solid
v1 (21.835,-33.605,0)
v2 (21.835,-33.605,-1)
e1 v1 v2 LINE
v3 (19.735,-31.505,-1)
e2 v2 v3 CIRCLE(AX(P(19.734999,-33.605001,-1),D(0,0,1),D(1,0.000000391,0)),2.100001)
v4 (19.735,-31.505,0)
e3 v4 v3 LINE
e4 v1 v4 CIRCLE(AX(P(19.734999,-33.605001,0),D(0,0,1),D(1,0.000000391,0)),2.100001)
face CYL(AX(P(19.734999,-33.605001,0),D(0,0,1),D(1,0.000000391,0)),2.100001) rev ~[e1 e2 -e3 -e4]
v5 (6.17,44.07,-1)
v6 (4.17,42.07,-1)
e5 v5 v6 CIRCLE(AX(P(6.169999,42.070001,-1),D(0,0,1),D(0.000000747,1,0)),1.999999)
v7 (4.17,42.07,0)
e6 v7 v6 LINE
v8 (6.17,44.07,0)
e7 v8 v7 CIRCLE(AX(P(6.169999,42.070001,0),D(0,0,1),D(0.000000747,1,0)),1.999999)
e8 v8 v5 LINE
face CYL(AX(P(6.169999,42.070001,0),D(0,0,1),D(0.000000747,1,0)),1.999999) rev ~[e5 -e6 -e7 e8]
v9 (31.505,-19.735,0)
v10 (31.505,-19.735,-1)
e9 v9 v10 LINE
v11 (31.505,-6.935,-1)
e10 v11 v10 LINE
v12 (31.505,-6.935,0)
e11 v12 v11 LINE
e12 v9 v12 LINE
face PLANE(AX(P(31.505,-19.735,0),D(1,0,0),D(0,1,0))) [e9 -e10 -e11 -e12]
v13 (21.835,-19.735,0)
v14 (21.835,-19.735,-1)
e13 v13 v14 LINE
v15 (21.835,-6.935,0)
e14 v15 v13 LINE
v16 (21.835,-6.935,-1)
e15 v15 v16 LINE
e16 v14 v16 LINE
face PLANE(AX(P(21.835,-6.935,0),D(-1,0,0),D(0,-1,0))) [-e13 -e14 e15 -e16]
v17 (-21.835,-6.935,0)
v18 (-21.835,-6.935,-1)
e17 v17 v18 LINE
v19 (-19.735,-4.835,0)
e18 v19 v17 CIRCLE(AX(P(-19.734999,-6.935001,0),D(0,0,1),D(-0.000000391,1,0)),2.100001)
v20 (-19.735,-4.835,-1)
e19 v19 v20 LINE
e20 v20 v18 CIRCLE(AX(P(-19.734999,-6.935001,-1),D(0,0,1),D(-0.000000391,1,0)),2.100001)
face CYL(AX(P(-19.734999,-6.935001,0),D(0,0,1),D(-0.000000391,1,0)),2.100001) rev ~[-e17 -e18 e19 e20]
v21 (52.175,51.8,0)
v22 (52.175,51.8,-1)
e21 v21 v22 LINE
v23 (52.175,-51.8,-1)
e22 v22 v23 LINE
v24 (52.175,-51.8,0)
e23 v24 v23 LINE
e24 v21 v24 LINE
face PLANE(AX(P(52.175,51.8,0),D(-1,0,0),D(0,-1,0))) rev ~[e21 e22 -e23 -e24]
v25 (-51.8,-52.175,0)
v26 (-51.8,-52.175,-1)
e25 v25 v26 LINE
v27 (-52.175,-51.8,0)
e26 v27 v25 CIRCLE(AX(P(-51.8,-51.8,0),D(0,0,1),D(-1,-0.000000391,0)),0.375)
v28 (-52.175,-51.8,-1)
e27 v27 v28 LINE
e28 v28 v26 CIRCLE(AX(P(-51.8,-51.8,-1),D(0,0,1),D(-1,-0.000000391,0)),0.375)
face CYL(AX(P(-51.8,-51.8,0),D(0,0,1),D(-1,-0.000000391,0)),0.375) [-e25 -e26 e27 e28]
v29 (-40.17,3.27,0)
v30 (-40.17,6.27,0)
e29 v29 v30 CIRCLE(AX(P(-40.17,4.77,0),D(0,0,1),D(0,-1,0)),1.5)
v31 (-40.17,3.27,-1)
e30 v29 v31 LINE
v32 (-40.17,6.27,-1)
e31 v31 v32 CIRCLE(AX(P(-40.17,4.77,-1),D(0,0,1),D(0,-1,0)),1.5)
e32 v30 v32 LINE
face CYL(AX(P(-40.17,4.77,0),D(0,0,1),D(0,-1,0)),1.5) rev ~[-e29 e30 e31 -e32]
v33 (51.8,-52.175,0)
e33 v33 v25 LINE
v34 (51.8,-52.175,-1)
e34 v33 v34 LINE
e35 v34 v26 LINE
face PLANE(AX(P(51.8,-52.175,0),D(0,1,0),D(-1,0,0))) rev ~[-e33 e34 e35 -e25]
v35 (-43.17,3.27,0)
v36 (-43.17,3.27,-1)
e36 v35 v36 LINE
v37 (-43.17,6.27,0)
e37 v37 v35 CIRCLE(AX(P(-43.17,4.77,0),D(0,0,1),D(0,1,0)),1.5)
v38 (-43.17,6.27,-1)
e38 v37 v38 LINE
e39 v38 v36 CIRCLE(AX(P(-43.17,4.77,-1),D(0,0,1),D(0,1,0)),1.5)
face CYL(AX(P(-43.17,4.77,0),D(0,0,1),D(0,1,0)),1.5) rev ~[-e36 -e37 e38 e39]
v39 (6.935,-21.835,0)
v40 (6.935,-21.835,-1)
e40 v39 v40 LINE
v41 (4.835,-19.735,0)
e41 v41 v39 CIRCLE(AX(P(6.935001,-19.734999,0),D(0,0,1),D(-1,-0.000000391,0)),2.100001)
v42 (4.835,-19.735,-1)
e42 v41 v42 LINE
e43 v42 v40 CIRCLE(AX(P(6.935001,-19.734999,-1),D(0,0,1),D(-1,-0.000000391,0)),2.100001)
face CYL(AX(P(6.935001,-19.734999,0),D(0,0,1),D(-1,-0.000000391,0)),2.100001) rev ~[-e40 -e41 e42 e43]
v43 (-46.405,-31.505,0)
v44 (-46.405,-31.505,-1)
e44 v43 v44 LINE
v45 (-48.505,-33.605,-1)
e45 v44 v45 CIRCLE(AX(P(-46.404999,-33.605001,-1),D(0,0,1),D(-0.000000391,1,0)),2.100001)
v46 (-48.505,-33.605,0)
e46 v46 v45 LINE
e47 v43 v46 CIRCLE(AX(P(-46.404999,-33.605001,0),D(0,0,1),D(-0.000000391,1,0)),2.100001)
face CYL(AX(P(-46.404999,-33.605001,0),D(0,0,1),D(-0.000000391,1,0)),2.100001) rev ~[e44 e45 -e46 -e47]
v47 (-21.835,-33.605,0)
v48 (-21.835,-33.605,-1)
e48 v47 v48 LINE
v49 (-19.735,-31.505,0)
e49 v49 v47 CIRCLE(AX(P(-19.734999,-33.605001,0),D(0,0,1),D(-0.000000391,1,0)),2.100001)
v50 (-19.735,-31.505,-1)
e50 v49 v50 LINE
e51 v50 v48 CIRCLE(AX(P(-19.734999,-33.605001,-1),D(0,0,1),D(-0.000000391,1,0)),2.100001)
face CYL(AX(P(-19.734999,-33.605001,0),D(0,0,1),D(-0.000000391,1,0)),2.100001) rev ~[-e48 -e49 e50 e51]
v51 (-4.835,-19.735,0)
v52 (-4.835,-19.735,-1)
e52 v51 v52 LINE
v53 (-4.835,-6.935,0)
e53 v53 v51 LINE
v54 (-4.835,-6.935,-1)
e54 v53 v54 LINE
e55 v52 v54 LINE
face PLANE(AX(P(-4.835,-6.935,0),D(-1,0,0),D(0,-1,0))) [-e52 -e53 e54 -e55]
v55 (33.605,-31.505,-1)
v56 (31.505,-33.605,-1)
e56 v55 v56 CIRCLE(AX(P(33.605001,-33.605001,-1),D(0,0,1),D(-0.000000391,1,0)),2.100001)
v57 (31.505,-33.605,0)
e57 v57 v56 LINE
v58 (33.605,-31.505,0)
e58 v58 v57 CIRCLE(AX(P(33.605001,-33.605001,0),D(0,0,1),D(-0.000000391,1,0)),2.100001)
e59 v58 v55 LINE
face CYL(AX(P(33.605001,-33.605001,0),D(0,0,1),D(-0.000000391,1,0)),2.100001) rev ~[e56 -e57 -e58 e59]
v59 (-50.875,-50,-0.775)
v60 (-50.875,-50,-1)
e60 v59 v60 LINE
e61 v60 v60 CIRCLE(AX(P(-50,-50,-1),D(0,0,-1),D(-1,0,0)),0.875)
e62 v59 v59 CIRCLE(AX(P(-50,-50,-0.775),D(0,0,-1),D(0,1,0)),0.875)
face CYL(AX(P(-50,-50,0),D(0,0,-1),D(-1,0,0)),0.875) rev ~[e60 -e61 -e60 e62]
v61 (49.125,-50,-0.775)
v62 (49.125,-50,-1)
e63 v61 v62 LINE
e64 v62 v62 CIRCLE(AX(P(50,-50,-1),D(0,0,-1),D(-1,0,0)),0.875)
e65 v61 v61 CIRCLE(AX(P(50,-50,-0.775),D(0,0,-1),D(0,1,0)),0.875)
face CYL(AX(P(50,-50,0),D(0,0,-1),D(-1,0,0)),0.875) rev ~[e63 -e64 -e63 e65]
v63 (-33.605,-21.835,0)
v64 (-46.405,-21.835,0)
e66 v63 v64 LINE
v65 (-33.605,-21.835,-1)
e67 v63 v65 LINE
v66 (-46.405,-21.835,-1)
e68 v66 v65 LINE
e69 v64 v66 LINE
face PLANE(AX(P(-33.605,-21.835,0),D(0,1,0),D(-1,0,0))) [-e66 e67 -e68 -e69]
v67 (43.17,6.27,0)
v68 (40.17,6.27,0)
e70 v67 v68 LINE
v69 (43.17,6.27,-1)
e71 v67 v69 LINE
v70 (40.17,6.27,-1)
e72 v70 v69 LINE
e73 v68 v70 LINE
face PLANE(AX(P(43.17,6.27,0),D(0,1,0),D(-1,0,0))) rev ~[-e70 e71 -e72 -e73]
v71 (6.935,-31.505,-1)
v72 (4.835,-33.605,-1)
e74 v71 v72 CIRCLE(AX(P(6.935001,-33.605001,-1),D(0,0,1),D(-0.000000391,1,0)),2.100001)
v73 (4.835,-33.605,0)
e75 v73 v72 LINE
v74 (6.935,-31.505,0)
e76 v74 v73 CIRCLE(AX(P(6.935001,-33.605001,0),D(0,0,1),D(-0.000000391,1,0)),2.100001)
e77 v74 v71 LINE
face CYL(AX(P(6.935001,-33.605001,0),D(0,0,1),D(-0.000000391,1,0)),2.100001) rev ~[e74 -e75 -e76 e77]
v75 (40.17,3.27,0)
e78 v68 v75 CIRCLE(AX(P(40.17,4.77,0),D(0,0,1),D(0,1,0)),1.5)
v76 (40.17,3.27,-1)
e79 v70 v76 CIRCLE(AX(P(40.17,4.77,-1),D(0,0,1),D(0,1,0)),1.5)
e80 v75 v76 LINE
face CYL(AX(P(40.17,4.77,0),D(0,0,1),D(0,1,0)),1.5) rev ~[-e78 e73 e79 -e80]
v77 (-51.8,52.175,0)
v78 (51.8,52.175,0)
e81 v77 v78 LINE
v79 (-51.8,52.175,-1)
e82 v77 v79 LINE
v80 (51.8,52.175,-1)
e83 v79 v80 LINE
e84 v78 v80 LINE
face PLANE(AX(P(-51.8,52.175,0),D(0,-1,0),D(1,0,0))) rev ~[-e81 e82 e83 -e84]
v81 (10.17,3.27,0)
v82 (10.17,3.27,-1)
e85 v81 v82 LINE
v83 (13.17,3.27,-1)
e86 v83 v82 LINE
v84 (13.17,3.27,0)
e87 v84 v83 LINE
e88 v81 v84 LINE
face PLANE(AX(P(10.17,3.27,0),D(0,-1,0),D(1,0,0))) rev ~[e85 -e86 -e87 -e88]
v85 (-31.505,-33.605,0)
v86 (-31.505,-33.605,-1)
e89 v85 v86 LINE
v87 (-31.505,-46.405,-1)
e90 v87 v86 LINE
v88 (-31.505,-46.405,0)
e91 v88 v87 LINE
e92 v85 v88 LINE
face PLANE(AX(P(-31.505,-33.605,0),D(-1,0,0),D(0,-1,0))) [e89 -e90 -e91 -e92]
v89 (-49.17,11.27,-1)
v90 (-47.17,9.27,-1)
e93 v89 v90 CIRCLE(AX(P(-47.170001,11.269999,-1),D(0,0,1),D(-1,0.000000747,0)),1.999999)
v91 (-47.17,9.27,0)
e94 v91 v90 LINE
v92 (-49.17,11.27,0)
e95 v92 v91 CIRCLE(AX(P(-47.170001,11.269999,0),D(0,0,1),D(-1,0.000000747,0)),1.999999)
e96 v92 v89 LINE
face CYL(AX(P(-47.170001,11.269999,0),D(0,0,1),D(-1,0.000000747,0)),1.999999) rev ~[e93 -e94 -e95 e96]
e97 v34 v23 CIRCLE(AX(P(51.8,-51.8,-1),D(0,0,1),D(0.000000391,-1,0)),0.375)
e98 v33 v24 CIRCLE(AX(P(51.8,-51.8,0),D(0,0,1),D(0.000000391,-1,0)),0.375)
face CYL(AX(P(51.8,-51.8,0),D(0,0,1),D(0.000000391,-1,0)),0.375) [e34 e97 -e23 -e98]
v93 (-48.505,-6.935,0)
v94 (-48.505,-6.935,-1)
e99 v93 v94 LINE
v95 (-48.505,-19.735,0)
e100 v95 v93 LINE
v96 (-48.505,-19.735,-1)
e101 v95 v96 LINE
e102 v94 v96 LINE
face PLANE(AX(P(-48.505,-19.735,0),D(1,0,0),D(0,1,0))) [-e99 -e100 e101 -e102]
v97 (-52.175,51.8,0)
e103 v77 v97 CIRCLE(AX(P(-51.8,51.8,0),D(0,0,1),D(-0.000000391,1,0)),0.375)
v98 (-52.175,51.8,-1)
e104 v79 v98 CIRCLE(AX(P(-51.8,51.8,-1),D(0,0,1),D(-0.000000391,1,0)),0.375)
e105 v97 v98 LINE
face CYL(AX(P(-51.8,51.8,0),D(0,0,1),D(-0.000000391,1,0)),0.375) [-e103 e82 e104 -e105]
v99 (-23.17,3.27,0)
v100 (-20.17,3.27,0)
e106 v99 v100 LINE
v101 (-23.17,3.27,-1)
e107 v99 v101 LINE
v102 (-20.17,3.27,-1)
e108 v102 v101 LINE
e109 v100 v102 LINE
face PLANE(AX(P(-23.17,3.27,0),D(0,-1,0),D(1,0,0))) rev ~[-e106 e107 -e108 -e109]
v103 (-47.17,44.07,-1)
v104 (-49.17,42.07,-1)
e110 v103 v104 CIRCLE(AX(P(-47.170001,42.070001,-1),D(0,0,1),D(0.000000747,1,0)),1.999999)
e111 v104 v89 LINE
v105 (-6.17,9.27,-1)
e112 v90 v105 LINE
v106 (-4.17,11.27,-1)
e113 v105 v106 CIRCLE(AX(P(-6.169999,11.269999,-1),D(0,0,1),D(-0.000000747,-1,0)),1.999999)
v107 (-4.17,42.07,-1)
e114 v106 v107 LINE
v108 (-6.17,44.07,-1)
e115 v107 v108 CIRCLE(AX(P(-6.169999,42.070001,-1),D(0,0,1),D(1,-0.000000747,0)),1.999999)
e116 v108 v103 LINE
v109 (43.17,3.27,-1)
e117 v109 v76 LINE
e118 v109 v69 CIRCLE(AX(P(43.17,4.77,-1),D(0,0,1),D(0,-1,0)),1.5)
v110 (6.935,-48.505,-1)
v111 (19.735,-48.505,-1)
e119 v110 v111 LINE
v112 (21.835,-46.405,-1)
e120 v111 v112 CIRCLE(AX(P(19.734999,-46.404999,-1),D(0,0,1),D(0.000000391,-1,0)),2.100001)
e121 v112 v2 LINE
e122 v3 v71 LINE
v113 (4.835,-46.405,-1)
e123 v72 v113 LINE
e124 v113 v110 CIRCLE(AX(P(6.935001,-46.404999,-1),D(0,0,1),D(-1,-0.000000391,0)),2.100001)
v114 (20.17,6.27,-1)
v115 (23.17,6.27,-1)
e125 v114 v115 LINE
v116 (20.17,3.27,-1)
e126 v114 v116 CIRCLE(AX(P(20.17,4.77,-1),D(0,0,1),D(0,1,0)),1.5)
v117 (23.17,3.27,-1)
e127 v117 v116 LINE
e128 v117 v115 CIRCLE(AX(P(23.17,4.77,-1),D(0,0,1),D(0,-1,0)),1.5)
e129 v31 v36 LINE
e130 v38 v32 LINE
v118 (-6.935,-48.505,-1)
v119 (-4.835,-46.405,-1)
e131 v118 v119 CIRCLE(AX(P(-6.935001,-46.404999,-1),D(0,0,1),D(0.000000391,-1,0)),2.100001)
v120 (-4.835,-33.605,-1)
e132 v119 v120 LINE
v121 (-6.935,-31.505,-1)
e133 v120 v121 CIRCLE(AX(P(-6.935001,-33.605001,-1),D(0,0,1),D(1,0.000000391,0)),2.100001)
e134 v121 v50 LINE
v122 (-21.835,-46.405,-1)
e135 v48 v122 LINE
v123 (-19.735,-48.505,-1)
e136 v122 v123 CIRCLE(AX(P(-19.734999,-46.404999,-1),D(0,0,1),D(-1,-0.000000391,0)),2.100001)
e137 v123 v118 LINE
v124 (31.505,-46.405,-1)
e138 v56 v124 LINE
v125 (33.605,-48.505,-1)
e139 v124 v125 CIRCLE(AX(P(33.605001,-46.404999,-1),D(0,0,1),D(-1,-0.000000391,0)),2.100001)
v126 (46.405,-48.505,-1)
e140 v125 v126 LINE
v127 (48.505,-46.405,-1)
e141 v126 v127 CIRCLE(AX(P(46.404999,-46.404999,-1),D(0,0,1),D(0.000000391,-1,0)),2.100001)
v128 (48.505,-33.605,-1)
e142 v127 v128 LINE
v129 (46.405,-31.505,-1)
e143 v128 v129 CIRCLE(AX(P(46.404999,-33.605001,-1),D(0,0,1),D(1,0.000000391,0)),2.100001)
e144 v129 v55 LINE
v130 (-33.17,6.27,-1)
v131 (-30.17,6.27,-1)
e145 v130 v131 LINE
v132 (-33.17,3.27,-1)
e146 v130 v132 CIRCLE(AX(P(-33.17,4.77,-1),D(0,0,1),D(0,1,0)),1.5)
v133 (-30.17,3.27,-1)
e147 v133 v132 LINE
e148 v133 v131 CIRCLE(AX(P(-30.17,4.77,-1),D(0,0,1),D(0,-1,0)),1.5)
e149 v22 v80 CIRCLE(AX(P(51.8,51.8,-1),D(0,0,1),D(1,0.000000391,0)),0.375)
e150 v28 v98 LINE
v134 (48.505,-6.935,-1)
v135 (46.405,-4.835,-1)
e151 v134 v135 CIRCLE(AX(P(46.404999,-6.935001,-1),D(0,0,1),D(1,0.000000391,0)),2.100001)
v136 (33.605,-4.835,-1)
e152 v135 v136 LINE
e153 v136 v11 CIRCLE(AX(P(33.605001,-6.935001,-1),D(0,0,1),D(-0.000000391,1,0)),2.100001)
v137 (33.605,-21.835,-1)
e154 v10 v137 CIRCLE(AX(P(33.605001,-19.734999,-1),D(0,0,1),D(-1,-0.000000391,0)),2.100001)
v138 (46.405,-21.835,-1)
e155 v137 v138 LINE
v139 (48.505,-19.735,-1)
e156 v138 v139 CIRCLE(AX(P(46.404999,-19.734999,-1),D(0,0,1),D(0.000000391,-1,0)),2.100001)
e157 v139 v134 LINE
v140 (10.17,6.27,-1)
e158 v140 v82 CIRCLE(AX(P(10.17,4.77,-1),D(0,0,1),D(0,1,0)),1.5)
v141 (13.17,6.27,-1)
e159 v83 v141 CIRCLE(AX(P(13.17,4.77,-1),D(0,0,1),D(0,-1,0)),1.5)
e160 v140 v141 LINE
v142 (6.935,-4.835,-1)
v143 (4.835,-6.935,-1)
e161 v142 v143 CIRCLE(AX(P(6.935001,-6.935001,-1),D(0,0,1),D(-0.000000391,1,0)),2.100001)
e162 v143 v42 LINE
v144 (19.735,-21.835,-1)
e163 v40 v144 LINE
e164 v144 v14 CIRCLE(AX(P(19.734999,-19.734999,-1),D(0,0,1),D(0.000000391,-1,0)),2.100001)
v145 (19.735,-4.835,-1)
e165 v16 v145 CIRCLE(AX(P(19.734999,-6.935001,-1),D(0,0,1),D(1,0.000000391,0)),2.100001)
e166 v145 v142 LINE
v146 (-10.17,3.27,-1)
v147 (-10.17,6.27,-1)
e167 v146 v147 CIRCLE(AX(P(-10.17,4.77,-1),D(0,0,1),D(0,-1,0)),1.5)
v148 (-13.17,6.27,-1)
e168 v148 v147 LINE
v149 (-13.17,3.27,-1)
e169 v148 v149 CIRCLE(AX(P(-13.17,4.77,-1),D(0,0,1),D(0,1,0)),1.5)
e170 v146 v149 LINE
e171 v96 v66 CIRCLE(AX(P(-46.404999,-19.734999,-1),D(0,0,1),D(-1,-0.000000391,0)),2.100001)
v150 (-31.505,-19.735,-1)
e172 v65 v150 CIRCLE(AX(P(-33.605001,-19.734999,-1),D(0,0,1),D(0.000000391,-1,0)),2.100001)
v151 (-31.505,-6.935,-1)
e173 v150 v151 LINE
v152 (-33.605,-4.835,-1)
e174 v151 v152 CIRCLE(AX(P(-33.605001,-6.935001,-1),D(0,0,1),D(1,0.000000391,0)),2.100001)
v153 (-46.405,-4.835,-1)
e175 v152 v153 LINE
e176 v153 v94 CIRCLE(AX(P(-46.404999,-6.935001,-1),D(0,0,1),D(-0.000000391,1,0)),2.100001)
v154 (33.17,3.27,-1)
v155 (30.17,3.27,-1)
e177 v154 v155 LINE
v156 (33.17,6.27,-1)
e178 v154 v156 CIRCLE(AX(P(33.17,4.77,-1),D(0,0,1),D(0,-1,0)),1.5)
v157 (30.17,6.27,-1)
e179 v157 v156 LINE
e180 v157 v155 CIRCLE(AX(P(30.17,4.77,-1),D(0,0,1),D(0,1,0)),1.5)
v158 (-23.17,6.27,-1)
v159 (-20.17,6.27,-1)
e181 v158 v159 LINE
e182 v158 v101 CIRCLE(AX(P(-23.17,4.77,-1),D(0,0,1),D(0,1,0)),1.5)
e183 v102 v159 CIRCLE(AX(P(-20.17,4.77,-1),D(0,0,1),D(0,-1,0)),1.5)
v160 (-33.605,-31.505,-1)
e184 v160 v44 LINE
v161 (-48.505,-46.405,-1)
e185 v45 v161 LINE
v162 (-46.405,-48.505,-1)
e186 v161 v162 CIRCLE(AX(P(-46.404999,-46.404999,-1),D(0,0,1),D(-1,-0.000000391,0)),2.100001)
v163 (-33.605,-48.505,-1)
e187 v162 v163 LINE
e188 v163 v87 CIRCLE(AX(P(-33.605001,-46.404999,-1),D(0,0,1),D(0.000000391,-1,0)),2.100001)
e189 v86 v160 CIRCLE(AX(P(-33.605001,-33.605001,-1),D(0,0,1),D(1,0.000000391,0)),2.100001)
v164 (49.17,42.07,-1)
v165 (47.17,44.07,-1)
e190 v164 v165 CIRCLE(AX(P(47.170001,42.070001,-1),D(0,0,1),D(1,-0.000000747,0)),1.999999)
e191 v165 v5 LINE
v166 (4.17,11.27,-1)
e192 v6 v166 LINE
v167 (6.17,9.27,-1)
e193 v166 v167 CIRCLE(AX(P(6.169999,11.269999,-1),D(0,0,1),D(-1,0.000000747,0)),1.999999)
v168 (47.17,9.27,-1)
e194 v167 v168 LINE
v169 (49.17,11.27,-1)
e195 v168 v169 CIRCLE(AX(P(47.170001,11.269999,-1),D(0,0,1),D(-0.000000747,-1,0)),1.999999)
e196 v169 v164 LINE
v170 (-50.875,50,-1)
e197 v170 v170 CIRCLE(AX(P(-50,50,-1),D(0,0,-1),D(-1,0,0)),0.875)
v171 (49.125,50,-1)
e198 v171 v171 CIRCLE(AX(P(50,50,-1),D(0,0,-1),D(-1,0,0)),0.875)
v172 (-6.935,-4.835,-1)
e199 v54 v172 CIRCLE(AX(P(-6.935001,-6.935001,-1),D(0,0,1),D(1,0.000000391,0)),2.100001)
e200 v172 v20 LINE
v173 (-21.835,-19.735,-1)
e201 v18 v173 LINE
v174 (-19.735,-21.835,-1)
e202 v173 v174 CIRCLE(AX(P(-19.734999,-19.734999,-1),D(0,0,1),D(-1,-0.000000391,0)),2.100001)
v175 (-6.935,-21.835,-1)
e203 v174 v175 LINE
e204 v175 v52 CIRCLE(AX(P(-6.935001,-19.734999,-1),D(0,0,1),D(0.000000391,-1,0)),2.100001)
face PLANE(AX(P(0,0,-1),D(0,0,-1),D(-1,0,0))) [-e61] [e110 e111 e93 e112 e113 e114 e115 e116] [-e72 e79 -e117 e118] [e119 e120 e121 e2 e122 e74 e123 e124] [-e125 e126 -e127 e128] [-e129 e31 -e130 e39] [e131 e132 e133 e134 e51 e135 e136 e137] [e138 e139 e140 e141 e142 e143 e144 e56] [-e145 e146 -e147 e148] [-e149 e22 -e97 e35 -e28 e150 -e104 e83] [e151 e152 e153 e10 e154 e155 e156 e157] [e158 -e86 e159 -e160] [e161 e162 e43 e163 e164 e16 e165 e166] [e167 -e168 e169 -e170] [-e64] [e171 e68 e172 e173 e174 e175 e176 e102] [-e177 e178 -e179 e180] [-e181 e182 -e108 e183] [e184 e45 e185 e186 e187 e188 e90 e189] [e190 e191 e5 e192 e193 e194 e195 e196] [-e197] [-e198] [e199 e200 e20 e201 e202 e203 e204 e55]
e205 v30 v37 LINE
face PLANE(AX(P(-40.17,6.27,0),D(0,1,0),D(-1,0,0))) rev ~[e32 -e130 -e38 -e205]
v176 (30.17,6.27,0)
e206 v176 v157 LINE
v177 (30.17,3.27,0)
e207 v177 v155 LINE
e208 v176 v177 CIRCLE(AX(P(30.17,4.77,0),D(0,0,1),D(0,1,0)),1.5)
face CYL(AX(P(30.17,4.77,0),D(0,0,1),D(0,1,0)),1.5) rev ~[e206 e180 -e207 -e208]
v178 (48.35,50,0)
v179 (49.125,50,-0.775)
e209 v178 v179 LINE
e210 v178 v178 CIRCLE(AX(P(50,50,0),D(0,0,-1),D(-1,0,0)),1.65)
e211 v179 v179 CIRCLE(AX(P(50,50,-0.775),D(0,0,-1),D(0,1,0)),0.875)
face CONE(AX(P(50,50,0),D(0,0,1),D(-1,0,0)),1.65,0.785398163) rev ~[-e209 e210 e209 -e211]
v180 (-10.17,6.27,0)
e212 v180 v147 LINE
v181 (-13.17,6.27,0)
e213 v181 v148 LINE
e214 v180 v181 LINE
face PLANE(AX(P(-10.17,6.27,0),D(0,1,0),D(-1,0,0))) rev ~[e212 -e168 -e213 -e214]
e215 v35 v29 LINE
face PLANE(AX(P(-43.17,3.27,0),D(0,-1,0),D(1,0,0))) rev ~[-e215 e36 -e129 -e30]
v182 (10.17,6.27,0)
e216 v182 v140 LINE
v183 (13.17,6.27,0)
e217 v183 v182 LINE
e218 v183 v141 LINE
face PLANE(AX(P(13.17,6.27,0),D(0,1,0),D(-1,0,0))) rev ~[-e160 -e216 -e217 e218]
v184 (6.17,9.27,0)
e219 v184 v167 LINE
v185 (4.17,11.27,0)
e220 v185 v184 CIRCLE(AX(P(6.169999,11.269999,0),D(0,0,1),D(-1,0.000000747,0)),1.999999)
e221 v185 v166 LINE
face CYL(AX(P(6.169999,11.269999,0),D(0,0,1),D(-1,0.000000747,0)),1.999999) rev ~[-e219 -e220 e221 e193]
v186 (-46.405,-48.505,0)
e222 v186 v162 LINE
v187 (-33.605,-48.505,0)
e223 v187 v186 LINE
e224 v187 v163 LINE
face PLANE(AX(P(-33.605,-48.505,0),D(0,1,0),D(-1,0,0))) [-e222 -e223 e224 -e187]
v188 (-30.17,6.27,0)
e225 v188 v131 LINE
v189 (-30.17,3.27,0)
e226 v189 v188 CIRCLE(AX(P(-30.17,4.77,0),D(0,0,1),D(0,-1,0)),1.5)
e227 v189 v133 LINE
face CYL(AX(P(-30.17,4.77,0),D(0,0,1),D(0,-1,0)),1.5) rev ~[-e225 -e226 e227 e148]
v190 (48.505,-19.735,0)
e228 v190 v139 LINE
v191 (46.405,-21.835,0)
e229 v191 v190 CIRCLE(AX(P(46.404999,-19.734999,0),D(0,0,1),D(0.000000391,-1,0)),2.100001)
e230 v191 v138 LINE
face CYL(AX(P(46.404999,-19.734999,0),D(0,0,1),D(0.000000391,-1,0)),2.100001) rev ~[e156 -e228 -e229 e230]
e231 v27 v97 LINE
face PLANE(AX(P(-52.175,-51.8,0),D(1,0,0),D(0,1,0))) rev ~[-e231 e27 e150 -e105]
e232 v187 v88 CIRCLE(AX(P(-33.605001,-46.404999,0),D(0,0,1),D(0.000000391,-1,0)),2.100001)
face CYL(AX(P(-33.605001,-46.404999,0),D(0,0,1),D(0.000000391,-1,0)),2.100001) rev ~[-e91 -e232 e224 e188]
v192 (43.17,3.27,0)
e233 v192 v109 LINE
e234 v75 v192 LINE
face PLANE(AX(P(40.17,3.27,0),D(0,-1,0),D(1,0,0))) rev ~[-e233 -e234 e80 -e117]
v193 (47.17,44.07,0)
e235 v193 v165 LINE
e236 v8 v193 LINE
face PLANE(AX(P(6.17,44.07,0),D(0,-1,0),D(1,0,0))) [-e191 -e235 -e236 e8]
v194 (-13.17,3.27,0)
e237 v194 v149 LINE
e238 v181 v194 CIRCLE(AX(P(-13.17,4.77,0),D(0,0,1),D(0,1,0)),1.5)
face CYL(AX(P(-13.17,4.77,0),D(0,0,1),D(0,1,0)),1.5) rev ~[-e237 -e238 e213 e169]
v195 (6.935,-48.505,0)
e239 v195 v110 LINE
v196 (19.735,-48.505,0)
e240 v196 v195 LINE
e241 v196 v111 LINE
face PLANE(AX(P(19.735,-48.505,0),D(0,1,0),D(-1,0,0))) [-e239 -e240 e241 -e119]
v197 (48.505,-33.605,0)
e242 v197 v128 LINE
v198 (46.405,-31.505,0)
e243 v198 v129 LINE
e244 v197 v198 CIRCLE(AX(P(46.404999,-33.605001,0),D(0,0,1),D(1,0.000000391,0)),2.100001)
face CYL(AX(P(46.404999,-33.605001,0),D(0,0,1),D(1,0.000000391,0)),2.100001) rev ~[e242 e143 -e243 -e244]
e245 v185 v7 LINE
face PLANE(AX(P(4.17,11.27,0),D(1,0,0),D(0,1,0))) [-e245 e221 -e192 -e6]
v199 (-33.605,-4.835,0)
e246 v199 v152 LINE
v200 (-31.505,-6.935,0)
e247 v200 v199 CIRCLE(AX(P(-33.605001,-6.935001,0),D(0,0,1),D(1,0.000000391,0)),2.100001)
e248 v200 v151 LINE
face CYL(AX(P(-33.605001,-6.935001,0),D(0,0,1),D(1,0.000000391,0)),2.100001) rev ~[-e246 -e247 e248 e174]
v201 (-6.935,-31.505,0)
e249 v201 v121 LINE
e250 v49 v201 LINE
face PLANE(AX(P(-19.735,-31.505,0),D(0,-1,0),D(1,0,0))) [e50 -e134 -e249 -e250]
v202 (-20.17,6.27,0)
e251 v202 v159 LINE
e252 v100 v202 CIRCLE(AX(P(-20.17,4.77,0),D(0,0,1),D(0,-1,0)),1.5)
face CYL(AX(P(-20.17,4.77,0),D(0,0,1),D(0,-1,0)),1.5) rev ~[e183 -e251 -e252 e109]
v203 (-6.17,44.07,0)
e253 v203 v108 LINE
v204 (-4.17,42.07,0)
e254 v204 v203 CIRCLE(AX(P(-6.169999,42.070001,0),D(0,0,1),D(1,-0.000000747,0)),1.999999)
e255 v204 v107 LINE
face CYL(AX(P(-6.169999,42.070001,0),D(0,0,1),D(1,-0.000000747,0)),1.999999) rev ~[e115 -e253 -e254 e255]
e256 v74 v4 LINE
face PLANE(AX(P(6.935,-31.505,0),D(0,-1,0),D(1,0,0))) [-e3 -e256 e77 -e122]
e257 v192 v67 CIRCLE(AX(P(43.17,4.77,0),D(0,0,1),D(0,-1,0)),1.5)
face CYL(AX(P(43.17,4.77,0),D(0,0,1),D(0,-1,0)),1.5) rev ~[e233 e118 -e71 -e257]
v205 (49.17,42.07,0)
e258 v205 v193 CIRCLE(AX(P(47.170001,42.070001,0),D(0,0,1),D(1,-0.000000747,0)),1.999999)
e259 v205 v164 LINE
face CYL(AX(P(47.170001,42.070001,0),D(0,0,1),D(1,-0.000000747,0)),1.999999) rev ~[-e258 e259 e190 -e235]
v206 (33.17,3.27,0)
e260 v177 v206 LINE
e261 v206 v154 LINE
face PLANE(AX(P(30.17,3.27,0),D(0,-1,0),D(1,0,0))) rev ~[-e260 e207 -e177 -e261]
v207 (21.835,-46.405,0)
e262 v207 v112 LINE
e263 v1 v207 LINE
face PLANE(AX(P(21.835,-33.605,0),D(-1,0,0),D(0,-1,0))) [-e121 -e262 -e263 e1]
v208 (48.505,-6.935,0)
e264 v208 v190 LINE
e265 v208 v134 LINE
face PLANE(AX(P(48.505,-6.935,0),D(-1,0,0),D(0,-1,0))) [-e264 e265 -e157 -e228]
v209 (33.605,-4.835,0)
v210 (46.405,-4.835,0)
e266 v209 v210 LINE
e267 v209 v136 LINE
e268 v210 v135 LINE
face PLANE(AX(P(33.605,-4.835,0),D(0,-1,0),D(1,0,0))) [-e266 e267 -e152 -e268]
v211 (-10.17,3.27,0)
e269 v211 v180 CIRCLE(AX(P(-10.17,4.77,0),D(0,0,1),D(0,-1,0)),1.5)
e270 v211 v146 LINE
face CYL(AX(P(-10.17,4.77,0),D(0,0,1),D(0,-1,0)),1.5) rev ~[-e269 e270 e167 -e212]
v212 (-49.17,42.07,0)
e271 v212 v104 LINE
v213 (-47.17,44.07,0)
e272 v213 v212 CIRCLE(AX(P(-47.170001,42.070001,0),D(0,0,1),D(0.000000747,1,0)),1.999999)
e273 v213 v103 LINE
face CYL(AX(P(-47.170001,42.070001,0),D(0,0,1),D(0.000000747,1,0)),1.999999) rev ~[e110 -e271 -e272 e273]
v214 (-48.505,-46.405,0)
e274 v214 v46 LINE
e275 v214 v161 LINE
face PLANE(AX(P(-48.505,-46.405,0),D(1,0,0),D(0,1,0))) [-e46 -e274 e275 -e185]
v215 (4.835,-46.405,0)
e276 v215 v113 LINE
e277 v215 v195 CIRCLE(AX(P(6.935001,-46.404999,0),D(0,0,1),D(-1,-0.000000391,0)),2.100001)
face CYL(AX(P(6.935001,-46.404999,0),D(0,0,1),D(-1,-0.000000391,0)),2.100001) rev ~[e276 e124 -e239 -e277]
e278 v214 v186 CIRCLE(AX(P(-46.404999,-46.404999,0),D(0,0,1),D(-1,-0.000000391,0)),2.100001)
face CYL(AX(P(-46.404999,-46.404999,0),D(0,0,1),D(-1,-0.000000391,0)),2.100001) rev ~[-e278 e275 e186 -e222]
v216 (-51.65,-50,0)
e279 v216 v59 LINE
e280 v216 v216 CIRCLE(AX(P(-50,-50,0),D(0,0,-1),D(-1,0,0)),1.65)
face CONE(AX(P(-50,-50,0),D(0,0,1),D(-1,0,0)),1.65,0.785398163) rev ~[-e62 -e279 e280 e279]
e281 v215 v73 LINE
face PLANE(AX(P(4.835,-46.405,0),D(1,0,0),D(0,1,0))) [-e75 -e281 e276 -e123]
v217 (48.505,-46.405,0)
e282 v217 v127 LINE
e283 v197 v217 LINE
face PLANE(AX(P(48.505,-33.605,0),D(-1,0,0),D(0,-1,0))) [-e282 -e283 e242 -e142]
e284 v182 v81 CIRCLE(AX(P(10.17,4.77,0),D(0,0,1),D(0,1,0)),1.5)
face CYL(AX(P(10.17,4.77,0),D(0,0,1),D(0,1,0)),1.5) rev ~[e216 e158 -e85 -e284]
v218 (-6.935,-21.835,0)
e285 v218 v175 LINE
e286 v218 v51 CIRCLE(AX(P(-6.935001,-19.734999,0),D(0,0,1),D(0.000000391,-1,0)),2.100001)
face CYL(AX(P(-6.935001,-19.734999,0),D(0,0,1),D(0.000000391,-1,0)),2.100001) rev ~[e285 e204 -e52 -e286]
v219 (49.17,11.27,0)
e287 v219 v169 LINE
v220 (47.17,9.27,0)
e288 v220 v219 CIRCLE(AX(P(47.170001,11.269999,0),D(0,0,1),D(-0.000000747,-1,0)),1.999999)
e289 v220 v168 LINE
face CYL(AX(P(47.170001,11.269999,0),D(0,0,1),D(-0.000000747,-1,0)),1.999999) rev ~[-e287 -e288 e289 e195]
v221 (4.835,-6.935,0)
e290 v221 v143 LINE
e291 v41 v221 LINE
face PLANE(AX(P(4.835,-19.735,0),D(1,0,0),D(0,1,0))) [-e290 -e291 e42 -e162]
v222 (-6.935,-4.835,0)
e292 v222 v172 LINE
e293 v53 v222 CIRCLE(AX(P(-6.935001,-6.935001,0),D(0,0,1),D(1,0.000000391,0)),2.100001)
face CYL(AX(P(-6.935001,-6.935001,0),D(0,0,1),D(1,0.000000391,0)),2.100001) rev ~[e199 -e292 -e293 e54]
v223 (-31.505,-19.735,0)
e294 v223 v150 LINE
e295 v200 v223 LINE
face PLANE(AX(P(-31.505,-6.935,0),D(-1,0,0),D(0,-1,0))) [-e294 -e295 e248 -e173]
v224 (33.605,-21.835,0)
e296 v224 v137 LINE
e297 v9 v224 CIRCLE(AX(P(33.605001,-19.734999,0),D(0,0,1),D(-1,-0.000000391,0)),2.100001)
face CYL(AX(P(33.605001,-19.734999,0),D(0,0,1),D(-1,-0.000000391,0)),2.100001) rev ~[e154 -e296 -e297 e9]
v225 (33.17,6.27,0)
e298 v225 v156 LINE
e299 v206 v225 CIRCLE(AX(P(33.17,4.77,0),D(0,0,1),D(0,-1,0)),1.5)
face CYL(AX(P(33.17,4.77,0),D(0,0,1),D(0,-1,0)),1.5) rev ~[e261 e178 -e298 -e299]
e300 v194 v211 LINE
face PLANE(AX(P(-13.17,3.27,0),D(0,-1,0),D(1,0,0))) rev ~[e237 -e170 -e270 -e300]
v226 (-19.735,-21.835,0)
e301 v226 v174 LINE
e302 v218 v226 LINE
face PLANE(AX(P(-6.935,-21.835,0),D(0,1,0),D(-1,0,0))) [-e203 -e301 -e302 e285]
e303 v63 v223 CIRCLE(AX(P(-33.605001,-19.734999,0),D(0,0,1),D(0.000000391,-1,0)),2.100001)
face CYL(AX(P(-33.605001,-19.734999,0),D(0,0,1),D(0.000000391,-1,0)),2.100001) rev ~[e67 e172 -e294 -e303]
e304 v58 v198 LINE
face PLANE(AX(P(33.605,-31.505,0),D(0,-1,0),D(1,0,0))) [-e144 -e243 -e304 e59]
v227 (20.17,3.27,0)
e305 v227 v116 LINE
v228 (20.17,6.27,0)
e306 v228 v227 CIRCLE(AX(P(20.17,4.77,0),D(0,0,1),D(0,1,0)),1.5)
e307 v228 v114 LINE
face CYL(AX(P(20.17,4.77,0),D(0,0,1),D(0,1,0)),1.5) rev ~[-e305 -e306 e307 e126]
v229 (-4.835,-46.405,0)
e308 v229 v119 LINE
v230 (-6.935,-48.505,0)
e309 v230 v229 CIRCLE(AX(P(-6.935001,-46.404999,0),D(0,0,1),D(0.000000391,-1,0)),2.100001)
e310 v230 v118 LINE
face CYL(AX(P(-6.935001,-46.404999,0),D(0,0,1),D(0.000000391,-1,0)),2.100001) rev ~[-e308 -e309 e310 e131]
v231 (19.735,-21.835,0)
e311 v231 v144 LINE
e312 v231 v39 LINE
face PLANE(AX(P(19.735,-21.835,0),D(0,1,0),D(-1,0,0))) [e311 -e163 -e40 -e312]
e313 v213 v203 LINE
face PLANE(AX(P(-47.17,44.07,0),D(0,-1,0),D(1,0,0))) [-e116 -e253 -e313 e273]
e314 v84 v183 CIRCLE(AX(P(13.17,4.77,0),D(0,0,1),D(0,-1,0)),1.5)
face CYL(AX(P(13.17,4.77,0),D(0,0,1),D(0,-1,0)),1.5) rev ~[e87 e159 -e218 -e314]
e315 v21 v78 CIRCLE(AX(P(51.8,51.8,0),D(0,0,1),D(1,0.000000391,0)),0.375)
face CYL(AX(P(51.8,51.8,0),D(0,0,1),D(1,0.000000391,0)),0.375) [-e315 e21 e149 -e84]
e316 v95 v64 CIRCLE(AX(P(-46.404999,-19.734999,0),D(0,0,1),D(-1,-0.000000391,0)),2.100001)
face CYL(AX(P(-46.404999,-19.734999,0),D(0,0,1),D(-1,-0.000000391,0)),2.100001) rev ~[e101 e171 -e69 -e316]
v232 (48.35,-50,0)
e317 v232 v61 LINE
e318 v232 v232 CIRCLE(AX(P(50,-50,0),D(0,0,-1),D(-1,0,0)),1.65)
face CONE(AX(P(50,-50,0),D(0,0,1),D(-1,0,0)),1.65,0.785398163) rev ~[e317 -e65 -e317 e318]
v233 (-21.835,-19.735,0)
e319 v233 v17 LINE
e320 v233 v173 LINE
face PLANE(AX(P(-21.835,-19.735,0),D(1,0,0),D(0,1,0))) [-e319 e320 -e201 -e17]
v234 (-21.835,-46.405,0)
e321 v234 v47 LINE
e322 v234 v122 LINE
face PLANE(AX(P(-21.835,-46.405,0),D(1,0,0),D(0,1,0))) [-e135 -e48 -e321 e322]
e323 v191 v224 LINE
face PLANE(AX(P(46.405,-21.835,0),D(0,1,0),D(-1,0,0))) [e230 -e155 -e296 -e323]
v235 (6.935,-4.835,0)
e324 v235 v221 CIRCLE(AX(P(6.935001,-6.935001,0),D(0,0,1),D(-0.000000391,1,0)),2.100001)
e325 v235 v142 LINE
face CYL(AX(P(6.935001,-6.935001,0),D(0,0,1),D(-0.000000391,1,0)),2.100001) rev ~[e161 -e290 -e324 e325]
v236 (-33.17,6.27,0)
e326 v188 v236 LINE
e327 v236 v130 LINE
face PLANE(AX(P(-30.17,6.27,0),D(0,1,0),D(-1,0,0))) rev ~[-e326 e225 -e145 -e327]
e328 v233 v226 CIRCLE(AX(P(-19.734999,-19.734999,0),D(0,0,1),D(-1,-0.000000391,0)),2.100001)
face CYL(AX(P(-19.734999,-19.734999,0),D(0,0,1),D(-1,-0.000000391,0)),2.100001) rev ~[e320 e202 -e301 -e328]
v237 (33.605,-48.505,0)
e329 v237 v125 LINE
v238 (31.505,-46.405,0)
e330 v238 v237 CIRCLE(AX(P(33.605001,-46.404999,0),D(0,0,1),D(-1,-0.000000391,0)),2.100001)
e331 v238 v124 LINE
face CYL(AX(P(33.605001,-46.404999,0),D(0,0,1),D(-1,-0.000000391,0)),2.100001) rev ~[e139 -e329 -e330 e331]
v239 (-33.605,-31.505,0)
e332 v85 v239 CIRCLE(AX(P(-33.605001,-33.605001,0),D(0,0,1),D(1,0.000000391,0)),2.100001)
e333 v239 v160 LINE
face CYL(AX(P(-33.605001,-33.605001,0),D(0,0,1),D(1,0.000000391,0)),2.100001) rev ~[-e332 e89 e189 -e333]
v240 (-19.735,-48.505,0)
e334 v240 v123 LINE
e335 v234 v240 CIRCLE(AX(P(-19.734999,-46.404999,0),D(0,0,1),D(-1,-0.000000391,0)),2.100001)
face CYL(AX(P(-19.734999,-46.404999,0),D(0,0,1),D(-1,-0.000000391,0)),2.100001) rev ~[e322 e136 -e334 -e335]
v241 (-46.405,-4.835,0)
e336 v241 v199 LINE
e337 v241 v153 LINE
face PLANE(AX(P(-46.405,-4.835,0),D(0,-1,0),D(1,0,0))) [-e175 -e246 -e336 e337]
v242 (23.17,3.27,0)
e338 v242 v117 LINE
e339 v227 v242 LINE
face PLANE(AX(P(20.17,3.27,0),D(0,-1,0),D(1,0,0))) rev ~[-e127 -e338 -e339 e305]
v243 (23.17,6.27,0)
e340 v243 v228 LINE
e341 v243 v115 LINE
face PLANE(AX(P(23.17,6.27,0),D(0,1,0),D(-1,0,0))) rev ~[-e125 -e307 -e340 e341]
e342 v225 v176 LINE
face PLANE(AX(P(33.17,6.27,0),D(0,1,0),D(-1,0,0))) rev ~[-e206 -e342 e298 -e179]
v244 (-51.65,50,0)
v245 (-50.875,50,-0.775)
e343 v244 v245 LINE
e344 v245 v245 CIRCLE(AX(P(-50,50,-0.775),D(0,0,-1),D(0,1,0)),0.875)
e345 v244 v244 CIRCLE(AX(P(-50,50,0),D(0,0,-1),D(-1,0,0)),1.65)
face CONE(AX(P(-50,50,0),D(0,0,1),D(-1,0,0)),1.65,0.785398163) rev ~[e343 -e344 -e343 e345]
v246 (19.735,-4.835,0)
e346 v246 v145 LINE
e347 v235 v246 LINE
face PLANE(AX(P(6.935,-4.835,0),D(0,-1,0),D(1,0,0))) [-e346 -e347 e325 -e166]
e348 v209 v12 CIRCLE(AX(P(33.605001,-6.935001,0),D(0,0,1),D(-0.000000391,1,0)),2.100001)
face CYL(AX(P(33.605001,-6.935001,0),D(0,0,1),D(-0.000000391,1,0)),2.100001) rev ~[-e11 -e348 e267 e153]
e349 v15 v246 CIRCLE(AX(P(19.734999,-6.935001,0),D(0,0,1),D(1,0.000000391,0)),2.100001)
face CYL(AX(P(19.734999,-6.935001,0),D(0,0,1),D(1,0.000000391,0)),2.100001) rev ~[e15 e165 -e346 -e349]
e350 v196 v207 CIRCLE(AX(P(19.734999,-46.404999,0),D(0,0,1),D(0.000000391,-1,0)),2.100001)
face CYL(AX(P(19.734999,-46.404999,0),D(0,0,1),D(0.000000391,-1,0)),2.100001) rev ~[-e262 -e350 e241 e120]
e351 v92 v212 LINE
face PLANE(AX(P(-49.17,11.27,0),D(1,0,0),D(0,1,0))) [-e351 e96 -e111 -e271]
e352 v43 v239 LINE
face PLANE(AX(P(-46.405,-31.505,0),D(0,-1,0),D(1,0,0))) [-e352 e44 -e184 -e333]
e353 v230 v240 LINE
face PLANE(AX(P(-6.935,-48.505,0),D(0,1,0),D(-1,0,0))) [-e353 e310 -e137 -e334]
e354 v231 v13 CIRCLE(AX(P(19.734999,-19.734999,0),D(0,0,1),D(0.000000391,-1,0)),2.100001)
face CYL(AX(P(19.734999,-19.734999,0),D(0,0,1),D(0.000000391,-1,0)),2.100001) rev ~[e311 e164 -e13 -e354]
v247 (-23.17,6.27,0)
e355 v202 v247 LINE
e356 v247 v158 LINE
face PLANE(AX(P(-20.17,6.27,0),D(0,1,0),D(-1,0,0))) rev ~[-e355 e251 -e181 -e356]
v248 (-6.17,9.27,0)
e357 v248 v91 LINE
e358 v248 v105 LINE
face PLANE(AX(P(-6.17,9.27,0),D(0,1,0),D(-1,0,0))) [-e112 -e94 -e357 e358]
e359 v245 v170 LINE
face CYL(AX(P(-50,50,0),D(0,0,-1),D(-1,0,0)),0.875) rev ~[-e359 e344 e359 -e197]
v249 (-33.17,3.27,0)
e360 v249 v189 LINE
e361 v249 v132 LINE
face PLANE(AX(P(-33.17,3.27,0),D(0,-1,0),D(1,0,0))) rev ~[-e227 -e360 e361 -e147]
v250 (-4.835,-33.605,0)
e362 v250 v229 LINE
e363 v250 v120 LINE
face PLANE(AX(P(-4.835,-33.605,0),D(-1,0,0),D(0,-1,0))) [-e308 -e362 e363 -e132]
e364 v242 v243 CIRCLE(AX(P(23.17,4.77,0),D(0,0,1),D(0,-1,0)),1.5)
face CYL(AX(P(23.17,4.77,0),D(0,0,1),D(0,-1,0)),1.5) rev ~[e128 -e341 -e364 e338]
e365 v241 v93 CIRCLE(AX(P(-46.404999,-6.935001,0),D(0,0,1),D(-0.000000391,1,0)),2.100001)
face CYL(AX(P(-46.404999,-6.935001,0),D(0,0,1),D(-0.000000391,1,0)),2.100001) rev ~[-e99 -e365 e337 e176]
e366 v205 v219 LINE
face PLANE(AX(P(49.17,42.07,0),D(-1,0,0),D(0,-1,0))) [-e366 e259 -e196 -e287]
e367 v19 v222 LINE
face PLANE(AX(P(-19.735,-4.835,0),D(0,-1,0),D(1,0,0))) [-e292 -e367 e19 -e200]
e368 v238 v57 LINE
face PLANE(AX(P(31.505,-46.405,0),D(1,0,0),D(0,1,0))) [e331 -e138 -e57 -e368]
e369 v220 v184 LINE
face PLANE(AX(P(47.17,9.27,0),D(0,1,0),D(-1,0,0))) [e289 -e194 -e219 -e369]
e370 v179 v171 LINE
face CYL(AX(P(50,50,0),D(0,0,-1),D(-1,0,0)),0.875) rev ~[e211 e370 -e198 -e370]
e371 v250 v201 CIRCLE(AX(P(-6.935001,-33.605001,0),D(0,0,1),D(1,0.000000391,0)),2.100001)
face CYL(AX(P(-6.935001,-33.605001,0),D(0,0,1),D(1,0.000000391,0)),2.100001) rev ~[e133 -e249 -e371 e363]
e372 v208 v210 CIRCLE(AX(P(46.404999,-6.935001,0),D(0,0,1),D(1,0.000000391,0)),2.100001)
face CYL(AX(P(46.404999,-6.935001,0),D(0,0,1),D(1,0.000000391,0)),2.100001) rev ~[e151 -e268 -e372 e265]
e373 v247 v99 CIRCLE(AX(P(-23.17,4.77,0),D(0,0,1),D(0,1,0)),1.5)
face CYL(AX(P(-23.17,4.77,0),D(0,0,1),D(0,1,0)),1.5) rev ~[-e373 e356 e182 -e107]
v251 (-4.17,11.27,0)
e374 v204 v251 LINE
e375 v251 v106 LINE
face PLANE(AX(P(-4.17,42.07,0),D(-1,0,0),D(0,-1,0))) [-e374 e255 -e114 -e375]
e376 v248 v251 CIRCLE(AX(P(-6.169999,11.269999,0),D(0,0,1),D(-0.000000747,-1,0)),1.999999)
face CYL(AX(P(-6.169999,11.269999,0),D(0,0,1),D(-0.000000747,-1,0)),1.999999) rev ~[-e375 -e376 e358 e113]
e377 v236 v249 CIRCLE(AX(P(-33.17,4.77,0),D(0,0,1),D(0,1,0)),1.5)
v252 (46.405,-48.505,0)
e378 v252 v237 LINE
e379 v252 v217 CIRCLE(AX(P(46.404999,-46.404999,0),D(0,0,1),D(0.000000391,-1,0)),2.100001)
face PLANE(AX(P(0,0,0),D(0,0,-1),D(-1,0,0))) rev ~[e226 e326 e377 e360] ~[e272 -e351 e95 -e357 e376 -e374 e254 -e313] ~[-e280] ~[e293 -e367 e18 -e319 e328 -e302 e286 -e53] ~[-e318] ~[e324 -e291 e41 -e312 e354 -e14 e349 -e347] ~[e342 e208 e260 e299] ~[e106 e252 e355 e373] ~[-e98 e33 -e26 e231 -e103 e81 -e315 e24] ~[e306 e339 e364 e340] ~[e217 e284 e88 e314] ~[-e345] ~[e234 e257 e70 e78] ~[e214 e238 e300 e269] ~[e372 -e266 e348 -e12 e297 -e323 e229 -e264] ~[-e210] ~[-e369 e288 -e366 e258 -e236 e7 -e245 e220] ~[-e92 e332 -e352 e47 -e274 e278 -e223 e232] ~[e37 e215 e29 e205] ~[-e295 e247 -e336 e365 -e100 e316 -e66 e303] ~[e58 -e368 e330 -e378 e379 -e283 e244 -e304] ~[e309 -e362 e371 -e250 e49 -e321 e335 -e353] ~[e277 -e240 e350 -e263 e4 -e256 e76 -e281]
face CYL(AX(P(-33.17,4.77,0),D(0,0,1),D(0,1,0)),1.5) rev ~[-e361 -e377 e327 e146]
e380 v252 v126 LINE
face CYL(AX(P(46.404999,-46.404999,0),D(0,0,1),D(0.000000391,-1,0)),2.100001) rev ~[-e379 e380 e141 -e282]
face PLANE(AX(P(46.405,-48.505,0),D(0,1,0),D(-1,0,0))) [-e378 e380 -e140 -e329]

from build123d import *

# Parameters (mm, degrees)
PAD_DEPTH        = 1
POCKET_DEPTH     = 0.001
HOLE_D           = 1.75
HOLE_CSINK_D     = 3.3
HOLE_CSINK_ANGLE = 90
POCKET008_DEPTH  = 1.001
POCKET010_DEPTH  = 5
POCKET011_DEPTH  = 1.001


with BuildPart() as part:
    # Sketch → Pad (new body)
    with BuildSketch(Plane.XY):
        with BuildLine():
            Line((-51.8, 52.175), (51.8, 52.175))
            ThreePointArc((52.175, 51.8), (52.065165, 52.065165), (51.8, 52.175))
            Line((52.175, 51.8), (52.175, -51.8))
            ThreePointArc((51.8, -52.175), (52.065165, -52.065165), (52.175, -51.8))
            Line((51.8, -52.175), (-51.8, -52.175))
            ThreePointArc((-52.175, -51.8), (-52.065165, -52.065165), (-51.8, -52.175))
            Line((-52.175, -51.8), (-52.175, 51.8))
            ThreePointArc((-51.8, 52.175), (-52.065165, 52.065165), (-52.175, 51.8))
        make_face()
    extrude(amount=-PAD_DEPTH)

    # Sketch002 → Pocket (cut, through all)
    with BuildSketch(Plane.XY.offset(-4.8)):
        with BuildLine():
            Line((-45, 50.175), (45, 50.175))
            ThreePointArc((45, 50.175), (45.353553, 50.321447), (45.5, 50.675))
            ThreePointArc((45.5, 50.675), (45.353553, 51.028553), (45, 51.175))
            Line((-45, 51.175), (45, 51.175))
            ThreePointArc((-45, 51.175), (-45.353553, 51.028553), (-45.5, 50.675))
            ThreePointArc((-45.5, 50.675), (-45.353553, 50.321447), (-45, 50.175))
        make_face()
        with BuildLine():
            Line((-45, -51.175), (45, -51.175))
            ThreePointArc((45, -51.175), (45.353553, -51.028553), (45.5, -50.675))
            ThreePointArc((45.5, -50.675), (45.353553, -50.321447), (45, -50.175))
            Line((-45, -50.175), (45, -50.175))
            ThreePointArc((-45, -50.175), (-45.353553, -50.321447), (-45.5, -50.675))
            ThreePointArc((-45.5, -50.675), (-45.353553, -51.028553), (-45, -51.175))
        make_face()
        with BuildLine():
            Line((51.175, -45), (51.175, 45))
            ThreePointArc((51.175, 45), (51.028553, 45.353553), (50.675, 45.5))
            ThreePointArc((50.675, 45.5), (50.321447, 45.353553), (50.175, 45))
            Line((50.175, -45), (50.175, 45))
            ThreePointArc((50.175, -45), (50.321447, -45.353553), (50.675, -45.5))
            ThreePointArc((50.675, -45.5), (51.028553, -45.353553), (51.175, -45))
        make_face()
        with BuildLine():
            Line((-50.175, -45), (-50.175, 45))
            ThreePointArc((-50.175, 45), (-50.321447, 45.353553), (-50.675, 45.5))
            ThreePointArc((-50.675, 45.5), (-51.028553, 45.353553), (-51.175, 45))
            Line((-51.175, -45), (-51.175, 45))
            ThreePointArc((-51.175, -45), (-51.028553, -45.353553), (-50.675, -45.5))
            ThreePointArc((-50.675, -45.5), (-50.321447, -45.353553), (-50.175, -45))
        make_face()
    extrude(amount=-POCKET_DEPTH, mode=Mode.SUBTRACT)

    # Hole (through all)
    with Locations(Plane.XY):
        with Locations((-50, 50), (50, 50), (50, -50), (-50, -50)):
            CounterSinkHole(HOLE_D / 2, HOLE_CSINK_D / 2, counter_sink_angle=HOLE_CSINK_ANGLE)

    # Sketch027 → Pocket008 (cut, through all)
    with BuildSketch(Plane.XY):
        with BuildLine():
            Line((-49.17, 11.27), (-49.17, 42.07))
            ThreePointArc((-47.17, 44.07), (-48.584214, 43.484214), (-49.17, 42.07))
            Line((-47.17, 44.07), (-6.17, 44.07))
            ThreePointArc((-4.17, 42.07), (-4.755786, 43.484214), (-6.17, 44.07))
            Line((-4.17, 42.07), (-4.17, 11.27))
            ThreePointArc((-6.17, 9.27), (-4.755786, 9.855786), (-4.17, 11.27))
            Line((-6.17, 9.27), (-47.17, 9.27))
            ThreePointArc((-49.17, 11.27), (-48.584214, 9.855786), (-47.17, 9.27))
        make_face()
        with BuildLine():
            Line((4.17, 11.27), (4.17, 42.07))
            ThreePointArc((6.17, 44.07), (4.755786, 43.484214), (4.17, 42.07))
            Line((6.17, 44.07), (47.17, 44.07))
            ThreePointArc((49.17, 42.07), (48.584214, 43.484214), (47.17, 44.07))
            Line((49.17, 42.07), (49.17, 11.27))
            ThreePointArc((47.17, 9.27), (48.584214, 9.855786), (49.17, 11.27))
            Line((47.17, 9.27), (6.17, 9.27))
            ThreePointArc((4.17, 11.27), (4.755786, 9.855786), (6.17, 9.27))
        make_face()
    extrude(amount=-POCKET008_DEPTH, mode=Mode.SUBTRACT)

    # Sketch029 → Pocket010 (cut)
    with BuildSketch(Plane.XY):
        with BuildLine():
            ThreePointArc((-30.17, 3.27), (-28.67, 4.77), (-30.17, 6.27))
            Line((-30.17, 6.27), (-33.17, 6.27))
            ThreePointArc((-33.17, 6.27), (-34.67, 4.77), (-33.17, 3.27))
            Line((-33.17, 3.27), (-30.17, 3.27))
        make_face()
        with BuildLine():
            ThreePointArc((-23.17, 6.27), (-24.67, 4.77), (-23.17, 3.27))
            Line((-23.17, 3.27), (-20.17, 3.27))
            ThreePointArc((-20.17, 3.27), (-18.67, 4.77), (-20.17, 6.27))
            Line((-20.17, 6.27), (-23.17, 6.27))
        make_face()
        with BuildLine():
            ThreePointArc((-13.17, 6.27), (-14.67, 4.77), (-13.17, 3.27))
            Line((-13.17, 3.27), (-10.17, 3.27))
            ThreePointArc((-10.17, 3.27), (-8.67, 4.77), (-10.17, 6.27))
            Line((-10.17, 6.27), (-13.17, 6.27))
        make_face()
        with BuildLine():
            ThreePointArc((-40.17, 3.27), (-38.67, 4.77), (-40.17, 6.27))
            Line((-40.17, 6.27), (-43.17, 6.27))
            ThreePointArc((-43.17, 6.27), (-44.67, 4.77), (-43.17, 3.27))
            Line((-43.17, 3.27), (-40.17, 3.27))
        make_face()
        with BuildLine():
            ThreePointArc((10.17, 6.27), (8.67, 4.77), (10.17, 3.27))
            Line((10.17, 3.27), (13.17, 3.27))
            ThreePointArc((13.17, 3.27), (14.67, 4.77), (13.17, 6.27))
            Line((13.17, 6.27), (10.17, 6.27))
        make_face()
        with BuildLine():
            ThreePointArc((20.17, 6.27), (18.67, 4.77), (20.17, 3.27))
            Line((20.17, 3.27), (23.17, 3.27))
            ThreePointArc((23.17, 3.27), (24.67, 4.77), (23.17, 6.27))
            Line((23.17, 6.27), (20.17, 6.27))
        make_face()
        with BuildLine():
            ThreePointArc((30.17, 6.27), (28.67, 4.77), (30.17, 3.27))
            Line((30.17, 3.27), (33.17, 3.27))
            ThreePointArc((33.17, 3.27), (34.67, 4.77), (33.17, 6.27))
            Line((33.17, 6.27), (30.17, 6.27))
        make_face()
        with BuildLine():
            ThreePointArc((43.17, 3.27), (44.67, 4.77), (43.17, 6.27))
            Line((43.17, 6.27), (40.17, 6.27))
            ThreePointArc((40.17, 6.27), (38.67, 4.77), (40.17, 3.27))
            Line((40.17, 3.27), (43.17, 3.27))
        make_face()
    extrude(amount=-POCKET010_DEPTH, mode=Mode.SUBTRACT)

    # Sketch030 → Pocket011 (cut, through all)
    with BuildSketch(Plane.XY):
        with BuildLine():
            Line((-48.505, -19.735), (-48.505, -6.935))
            ThreePointArc((-46.405, -4.835), (-47.889924, -5.450076), (-48.505, -6.935))
            Line((-46.405, -4.835), (-33.605, -4.835))
            ThreePointArc((-31.505, -6.935), (-32.120076, -5.450076), (-33.605, -4.835))
            Line((-31.505, -6.935), (-31.505, -19.735))
            ThreePointArc((-33.605, -21.835), (-32.120076, -21.219924), (-31.505, -19.735))
            Line((-33.605, -21.835), (-46.405, -21.835))
            ThreePointArc((-48.505, -19.735), (-47.889924, -21.219924), (-46.405, -21.835))
        make_face()
        with BuildLine():
            Line((-21.835, -19.735), (-21.835, -6.935))
            ThreePointArc((-19.735, -4.835), (-21.219924, -5.450076), (-21.835, -6.935))
            Line((-19.735, -4.835), (-6.935, -4.835))
            ThreePointArc((-4.835, -6.935), (-5.450076, -5.450076), (-6.935, -4.835))
            Line((-4.835, -6.935), (-4.835, -19.735))
            ThreePointArc((-6.935, -21.835), (-5.450076, -21.219924), (-4.835, -19.735))
            Line((-6.935, -21.835), (-19.735, -21.835))
            ThreePointArc((-21.835, -19.735), (-21.219924, -21.219924), (-19.735, -21.835))
        make_face()
        with BuildLine():
            Line((4.835, -19.735), (4.835, -6.935))
            ThreePointArc((6.935, -4.835), (5.450076, -5.450076), (4.835, -6.935))
            Line((6.935, -4.835), (19.735, -4.835))
            ThreePointArc((21.835, -6.935), (21.219924, -5.450076), (19.735, -4.835))
            Line((21.835, -6.935), (21.835, -19.735))
            ThreePointArc((19.735, -21.835), (21.219924, -21.219924), (21.835, -19.735))
            Line((19.735, -21.835), (6.935, -21.835))
            ThreePointArc((4.835, -19.735), (5.450076, -21.219924), (6.935, -21.835))
        make_face()
        with BuildLine():
            Line((31.505, -19.735), (31.505, -6.935))
            ThreePointArc((33.605, -4.835), (32.120076, -5.450076), (31.505, -6.935))
            Line((33.605, -4.835), (46.405, -4.835))
            ThreePointArc((48.505, -6.935), (47.889924, -5.450076), (46.405, -4.835))
            Line((48.505, -6.935), (48.505, -19.735))
            ThreePointArc((46.405, -21.835), (47.889924, -21.219924), (48.505, -19.735))
            Line((46.405, -21.835), (33.605, -21.835))
            ThreePointArc((31.505, -19.735), (32.120076, -21.219924), (33.605, -21.835))
        make_face()
        with BuildLine():
            Line((31.505, -46.405), (31.505, -33.605))
            ThreePointArc((33.605, -31.505), (32.120076, -32.120076), (31.505, -33.605))
            Line((33.605, -31.505), (46.405, -31.505))
            ThreePointArc((48.505, -33.605), (47.889924, -32.120076), (46.405, -31.505))
            Line((48.505, -33.605), (48.505, -46.405))
            ThreePointArc((46.405, -48.505), (47.889924, -47.889924), (48.505, -46.405))
            Line((46.405, -48.505), (33.605, -48.505))
            ThreePointArc((31.505, -46.405), (32.120076, -47.889924), (33.605, -48.505))
        make_face()
        with BuildLine():
            Line((4.835, -46.405), (4.835, -33.605))
            ThreePointArc((6.935, -31.505), (5.450076, -32.120076), (4.835, -33.605))
            Line((6.935, -31.505), (19.735, -31.505))
            ThreePointArc((21.835, -33.605), (21.219924, -32.120076), (19.735, -31.505))
            Line((21.835, -33.605), (21.835, -46.405))
            ThreePointArc((19.735, -48.505), (21.219924, -47.889924), (21.835, -46.405))
            Line((19.735, -48.505), (6.935, -48.505))
            ThreePointArc((4.835, -46.405), (5.450076, -47.889924), (6.935, -48.505))
        make_face()
        with BuildLine():
            Line((-21.835, -46.405), (-21.835, -33.605))
            ThreePointArc((-19.735, -31.505), (-21.219924, -32.120076), (-21.835, -33.605))
            Line((-19.735, -31.505), (-6.935, -31.505))
            ThreePointArc((-4.835, -33.605), (-5.450076, -32.120076), (-6.935, -31.505))
            Line((-4.835, -33.605), (-4.835, -46.405))
            ThreePointArc((-6.935, -48.505), (-5.450076, -47.889924), (-4.835, -46.405))
            Line((-6.935, -48.505), (-19.735, -48.505))
            ThreePointArc((-21.835, -46.405), (-21.219924, -47.889924), (-19.735, -48.505))
        make_face()
        with BuildLine():
            Line((-48.505, -46.405), (-48.505, -33.605))
            ThreePointArc((-46.405, -31.505), (-47.889924, -32.120076), (-48.505, -33.605))
            Line((-46.405, -31.505), (-33.605, -31.505))
            ThreePointArc((-31.505, -33.605), (-32.120076, -32.120076), (-33.605, -31.505))
            Line((-31.505, -33.605), (-31.505, -46.405))
            ThreePointArc((-33.605, -48.505), (-32.120076, -47.889924), (-31.505, -46.405))
            Line((-33.605, -48.505), (-46.405, -48.505))
            ThreePointArc((-48.505, -46.405), (-47.889924, -47.889924), (-46.405, -48.505))
        make_face()
    extrude(amount=-POCKET011_DEPTH, mode=Mode.SUBTRACT)


solid = part.part
